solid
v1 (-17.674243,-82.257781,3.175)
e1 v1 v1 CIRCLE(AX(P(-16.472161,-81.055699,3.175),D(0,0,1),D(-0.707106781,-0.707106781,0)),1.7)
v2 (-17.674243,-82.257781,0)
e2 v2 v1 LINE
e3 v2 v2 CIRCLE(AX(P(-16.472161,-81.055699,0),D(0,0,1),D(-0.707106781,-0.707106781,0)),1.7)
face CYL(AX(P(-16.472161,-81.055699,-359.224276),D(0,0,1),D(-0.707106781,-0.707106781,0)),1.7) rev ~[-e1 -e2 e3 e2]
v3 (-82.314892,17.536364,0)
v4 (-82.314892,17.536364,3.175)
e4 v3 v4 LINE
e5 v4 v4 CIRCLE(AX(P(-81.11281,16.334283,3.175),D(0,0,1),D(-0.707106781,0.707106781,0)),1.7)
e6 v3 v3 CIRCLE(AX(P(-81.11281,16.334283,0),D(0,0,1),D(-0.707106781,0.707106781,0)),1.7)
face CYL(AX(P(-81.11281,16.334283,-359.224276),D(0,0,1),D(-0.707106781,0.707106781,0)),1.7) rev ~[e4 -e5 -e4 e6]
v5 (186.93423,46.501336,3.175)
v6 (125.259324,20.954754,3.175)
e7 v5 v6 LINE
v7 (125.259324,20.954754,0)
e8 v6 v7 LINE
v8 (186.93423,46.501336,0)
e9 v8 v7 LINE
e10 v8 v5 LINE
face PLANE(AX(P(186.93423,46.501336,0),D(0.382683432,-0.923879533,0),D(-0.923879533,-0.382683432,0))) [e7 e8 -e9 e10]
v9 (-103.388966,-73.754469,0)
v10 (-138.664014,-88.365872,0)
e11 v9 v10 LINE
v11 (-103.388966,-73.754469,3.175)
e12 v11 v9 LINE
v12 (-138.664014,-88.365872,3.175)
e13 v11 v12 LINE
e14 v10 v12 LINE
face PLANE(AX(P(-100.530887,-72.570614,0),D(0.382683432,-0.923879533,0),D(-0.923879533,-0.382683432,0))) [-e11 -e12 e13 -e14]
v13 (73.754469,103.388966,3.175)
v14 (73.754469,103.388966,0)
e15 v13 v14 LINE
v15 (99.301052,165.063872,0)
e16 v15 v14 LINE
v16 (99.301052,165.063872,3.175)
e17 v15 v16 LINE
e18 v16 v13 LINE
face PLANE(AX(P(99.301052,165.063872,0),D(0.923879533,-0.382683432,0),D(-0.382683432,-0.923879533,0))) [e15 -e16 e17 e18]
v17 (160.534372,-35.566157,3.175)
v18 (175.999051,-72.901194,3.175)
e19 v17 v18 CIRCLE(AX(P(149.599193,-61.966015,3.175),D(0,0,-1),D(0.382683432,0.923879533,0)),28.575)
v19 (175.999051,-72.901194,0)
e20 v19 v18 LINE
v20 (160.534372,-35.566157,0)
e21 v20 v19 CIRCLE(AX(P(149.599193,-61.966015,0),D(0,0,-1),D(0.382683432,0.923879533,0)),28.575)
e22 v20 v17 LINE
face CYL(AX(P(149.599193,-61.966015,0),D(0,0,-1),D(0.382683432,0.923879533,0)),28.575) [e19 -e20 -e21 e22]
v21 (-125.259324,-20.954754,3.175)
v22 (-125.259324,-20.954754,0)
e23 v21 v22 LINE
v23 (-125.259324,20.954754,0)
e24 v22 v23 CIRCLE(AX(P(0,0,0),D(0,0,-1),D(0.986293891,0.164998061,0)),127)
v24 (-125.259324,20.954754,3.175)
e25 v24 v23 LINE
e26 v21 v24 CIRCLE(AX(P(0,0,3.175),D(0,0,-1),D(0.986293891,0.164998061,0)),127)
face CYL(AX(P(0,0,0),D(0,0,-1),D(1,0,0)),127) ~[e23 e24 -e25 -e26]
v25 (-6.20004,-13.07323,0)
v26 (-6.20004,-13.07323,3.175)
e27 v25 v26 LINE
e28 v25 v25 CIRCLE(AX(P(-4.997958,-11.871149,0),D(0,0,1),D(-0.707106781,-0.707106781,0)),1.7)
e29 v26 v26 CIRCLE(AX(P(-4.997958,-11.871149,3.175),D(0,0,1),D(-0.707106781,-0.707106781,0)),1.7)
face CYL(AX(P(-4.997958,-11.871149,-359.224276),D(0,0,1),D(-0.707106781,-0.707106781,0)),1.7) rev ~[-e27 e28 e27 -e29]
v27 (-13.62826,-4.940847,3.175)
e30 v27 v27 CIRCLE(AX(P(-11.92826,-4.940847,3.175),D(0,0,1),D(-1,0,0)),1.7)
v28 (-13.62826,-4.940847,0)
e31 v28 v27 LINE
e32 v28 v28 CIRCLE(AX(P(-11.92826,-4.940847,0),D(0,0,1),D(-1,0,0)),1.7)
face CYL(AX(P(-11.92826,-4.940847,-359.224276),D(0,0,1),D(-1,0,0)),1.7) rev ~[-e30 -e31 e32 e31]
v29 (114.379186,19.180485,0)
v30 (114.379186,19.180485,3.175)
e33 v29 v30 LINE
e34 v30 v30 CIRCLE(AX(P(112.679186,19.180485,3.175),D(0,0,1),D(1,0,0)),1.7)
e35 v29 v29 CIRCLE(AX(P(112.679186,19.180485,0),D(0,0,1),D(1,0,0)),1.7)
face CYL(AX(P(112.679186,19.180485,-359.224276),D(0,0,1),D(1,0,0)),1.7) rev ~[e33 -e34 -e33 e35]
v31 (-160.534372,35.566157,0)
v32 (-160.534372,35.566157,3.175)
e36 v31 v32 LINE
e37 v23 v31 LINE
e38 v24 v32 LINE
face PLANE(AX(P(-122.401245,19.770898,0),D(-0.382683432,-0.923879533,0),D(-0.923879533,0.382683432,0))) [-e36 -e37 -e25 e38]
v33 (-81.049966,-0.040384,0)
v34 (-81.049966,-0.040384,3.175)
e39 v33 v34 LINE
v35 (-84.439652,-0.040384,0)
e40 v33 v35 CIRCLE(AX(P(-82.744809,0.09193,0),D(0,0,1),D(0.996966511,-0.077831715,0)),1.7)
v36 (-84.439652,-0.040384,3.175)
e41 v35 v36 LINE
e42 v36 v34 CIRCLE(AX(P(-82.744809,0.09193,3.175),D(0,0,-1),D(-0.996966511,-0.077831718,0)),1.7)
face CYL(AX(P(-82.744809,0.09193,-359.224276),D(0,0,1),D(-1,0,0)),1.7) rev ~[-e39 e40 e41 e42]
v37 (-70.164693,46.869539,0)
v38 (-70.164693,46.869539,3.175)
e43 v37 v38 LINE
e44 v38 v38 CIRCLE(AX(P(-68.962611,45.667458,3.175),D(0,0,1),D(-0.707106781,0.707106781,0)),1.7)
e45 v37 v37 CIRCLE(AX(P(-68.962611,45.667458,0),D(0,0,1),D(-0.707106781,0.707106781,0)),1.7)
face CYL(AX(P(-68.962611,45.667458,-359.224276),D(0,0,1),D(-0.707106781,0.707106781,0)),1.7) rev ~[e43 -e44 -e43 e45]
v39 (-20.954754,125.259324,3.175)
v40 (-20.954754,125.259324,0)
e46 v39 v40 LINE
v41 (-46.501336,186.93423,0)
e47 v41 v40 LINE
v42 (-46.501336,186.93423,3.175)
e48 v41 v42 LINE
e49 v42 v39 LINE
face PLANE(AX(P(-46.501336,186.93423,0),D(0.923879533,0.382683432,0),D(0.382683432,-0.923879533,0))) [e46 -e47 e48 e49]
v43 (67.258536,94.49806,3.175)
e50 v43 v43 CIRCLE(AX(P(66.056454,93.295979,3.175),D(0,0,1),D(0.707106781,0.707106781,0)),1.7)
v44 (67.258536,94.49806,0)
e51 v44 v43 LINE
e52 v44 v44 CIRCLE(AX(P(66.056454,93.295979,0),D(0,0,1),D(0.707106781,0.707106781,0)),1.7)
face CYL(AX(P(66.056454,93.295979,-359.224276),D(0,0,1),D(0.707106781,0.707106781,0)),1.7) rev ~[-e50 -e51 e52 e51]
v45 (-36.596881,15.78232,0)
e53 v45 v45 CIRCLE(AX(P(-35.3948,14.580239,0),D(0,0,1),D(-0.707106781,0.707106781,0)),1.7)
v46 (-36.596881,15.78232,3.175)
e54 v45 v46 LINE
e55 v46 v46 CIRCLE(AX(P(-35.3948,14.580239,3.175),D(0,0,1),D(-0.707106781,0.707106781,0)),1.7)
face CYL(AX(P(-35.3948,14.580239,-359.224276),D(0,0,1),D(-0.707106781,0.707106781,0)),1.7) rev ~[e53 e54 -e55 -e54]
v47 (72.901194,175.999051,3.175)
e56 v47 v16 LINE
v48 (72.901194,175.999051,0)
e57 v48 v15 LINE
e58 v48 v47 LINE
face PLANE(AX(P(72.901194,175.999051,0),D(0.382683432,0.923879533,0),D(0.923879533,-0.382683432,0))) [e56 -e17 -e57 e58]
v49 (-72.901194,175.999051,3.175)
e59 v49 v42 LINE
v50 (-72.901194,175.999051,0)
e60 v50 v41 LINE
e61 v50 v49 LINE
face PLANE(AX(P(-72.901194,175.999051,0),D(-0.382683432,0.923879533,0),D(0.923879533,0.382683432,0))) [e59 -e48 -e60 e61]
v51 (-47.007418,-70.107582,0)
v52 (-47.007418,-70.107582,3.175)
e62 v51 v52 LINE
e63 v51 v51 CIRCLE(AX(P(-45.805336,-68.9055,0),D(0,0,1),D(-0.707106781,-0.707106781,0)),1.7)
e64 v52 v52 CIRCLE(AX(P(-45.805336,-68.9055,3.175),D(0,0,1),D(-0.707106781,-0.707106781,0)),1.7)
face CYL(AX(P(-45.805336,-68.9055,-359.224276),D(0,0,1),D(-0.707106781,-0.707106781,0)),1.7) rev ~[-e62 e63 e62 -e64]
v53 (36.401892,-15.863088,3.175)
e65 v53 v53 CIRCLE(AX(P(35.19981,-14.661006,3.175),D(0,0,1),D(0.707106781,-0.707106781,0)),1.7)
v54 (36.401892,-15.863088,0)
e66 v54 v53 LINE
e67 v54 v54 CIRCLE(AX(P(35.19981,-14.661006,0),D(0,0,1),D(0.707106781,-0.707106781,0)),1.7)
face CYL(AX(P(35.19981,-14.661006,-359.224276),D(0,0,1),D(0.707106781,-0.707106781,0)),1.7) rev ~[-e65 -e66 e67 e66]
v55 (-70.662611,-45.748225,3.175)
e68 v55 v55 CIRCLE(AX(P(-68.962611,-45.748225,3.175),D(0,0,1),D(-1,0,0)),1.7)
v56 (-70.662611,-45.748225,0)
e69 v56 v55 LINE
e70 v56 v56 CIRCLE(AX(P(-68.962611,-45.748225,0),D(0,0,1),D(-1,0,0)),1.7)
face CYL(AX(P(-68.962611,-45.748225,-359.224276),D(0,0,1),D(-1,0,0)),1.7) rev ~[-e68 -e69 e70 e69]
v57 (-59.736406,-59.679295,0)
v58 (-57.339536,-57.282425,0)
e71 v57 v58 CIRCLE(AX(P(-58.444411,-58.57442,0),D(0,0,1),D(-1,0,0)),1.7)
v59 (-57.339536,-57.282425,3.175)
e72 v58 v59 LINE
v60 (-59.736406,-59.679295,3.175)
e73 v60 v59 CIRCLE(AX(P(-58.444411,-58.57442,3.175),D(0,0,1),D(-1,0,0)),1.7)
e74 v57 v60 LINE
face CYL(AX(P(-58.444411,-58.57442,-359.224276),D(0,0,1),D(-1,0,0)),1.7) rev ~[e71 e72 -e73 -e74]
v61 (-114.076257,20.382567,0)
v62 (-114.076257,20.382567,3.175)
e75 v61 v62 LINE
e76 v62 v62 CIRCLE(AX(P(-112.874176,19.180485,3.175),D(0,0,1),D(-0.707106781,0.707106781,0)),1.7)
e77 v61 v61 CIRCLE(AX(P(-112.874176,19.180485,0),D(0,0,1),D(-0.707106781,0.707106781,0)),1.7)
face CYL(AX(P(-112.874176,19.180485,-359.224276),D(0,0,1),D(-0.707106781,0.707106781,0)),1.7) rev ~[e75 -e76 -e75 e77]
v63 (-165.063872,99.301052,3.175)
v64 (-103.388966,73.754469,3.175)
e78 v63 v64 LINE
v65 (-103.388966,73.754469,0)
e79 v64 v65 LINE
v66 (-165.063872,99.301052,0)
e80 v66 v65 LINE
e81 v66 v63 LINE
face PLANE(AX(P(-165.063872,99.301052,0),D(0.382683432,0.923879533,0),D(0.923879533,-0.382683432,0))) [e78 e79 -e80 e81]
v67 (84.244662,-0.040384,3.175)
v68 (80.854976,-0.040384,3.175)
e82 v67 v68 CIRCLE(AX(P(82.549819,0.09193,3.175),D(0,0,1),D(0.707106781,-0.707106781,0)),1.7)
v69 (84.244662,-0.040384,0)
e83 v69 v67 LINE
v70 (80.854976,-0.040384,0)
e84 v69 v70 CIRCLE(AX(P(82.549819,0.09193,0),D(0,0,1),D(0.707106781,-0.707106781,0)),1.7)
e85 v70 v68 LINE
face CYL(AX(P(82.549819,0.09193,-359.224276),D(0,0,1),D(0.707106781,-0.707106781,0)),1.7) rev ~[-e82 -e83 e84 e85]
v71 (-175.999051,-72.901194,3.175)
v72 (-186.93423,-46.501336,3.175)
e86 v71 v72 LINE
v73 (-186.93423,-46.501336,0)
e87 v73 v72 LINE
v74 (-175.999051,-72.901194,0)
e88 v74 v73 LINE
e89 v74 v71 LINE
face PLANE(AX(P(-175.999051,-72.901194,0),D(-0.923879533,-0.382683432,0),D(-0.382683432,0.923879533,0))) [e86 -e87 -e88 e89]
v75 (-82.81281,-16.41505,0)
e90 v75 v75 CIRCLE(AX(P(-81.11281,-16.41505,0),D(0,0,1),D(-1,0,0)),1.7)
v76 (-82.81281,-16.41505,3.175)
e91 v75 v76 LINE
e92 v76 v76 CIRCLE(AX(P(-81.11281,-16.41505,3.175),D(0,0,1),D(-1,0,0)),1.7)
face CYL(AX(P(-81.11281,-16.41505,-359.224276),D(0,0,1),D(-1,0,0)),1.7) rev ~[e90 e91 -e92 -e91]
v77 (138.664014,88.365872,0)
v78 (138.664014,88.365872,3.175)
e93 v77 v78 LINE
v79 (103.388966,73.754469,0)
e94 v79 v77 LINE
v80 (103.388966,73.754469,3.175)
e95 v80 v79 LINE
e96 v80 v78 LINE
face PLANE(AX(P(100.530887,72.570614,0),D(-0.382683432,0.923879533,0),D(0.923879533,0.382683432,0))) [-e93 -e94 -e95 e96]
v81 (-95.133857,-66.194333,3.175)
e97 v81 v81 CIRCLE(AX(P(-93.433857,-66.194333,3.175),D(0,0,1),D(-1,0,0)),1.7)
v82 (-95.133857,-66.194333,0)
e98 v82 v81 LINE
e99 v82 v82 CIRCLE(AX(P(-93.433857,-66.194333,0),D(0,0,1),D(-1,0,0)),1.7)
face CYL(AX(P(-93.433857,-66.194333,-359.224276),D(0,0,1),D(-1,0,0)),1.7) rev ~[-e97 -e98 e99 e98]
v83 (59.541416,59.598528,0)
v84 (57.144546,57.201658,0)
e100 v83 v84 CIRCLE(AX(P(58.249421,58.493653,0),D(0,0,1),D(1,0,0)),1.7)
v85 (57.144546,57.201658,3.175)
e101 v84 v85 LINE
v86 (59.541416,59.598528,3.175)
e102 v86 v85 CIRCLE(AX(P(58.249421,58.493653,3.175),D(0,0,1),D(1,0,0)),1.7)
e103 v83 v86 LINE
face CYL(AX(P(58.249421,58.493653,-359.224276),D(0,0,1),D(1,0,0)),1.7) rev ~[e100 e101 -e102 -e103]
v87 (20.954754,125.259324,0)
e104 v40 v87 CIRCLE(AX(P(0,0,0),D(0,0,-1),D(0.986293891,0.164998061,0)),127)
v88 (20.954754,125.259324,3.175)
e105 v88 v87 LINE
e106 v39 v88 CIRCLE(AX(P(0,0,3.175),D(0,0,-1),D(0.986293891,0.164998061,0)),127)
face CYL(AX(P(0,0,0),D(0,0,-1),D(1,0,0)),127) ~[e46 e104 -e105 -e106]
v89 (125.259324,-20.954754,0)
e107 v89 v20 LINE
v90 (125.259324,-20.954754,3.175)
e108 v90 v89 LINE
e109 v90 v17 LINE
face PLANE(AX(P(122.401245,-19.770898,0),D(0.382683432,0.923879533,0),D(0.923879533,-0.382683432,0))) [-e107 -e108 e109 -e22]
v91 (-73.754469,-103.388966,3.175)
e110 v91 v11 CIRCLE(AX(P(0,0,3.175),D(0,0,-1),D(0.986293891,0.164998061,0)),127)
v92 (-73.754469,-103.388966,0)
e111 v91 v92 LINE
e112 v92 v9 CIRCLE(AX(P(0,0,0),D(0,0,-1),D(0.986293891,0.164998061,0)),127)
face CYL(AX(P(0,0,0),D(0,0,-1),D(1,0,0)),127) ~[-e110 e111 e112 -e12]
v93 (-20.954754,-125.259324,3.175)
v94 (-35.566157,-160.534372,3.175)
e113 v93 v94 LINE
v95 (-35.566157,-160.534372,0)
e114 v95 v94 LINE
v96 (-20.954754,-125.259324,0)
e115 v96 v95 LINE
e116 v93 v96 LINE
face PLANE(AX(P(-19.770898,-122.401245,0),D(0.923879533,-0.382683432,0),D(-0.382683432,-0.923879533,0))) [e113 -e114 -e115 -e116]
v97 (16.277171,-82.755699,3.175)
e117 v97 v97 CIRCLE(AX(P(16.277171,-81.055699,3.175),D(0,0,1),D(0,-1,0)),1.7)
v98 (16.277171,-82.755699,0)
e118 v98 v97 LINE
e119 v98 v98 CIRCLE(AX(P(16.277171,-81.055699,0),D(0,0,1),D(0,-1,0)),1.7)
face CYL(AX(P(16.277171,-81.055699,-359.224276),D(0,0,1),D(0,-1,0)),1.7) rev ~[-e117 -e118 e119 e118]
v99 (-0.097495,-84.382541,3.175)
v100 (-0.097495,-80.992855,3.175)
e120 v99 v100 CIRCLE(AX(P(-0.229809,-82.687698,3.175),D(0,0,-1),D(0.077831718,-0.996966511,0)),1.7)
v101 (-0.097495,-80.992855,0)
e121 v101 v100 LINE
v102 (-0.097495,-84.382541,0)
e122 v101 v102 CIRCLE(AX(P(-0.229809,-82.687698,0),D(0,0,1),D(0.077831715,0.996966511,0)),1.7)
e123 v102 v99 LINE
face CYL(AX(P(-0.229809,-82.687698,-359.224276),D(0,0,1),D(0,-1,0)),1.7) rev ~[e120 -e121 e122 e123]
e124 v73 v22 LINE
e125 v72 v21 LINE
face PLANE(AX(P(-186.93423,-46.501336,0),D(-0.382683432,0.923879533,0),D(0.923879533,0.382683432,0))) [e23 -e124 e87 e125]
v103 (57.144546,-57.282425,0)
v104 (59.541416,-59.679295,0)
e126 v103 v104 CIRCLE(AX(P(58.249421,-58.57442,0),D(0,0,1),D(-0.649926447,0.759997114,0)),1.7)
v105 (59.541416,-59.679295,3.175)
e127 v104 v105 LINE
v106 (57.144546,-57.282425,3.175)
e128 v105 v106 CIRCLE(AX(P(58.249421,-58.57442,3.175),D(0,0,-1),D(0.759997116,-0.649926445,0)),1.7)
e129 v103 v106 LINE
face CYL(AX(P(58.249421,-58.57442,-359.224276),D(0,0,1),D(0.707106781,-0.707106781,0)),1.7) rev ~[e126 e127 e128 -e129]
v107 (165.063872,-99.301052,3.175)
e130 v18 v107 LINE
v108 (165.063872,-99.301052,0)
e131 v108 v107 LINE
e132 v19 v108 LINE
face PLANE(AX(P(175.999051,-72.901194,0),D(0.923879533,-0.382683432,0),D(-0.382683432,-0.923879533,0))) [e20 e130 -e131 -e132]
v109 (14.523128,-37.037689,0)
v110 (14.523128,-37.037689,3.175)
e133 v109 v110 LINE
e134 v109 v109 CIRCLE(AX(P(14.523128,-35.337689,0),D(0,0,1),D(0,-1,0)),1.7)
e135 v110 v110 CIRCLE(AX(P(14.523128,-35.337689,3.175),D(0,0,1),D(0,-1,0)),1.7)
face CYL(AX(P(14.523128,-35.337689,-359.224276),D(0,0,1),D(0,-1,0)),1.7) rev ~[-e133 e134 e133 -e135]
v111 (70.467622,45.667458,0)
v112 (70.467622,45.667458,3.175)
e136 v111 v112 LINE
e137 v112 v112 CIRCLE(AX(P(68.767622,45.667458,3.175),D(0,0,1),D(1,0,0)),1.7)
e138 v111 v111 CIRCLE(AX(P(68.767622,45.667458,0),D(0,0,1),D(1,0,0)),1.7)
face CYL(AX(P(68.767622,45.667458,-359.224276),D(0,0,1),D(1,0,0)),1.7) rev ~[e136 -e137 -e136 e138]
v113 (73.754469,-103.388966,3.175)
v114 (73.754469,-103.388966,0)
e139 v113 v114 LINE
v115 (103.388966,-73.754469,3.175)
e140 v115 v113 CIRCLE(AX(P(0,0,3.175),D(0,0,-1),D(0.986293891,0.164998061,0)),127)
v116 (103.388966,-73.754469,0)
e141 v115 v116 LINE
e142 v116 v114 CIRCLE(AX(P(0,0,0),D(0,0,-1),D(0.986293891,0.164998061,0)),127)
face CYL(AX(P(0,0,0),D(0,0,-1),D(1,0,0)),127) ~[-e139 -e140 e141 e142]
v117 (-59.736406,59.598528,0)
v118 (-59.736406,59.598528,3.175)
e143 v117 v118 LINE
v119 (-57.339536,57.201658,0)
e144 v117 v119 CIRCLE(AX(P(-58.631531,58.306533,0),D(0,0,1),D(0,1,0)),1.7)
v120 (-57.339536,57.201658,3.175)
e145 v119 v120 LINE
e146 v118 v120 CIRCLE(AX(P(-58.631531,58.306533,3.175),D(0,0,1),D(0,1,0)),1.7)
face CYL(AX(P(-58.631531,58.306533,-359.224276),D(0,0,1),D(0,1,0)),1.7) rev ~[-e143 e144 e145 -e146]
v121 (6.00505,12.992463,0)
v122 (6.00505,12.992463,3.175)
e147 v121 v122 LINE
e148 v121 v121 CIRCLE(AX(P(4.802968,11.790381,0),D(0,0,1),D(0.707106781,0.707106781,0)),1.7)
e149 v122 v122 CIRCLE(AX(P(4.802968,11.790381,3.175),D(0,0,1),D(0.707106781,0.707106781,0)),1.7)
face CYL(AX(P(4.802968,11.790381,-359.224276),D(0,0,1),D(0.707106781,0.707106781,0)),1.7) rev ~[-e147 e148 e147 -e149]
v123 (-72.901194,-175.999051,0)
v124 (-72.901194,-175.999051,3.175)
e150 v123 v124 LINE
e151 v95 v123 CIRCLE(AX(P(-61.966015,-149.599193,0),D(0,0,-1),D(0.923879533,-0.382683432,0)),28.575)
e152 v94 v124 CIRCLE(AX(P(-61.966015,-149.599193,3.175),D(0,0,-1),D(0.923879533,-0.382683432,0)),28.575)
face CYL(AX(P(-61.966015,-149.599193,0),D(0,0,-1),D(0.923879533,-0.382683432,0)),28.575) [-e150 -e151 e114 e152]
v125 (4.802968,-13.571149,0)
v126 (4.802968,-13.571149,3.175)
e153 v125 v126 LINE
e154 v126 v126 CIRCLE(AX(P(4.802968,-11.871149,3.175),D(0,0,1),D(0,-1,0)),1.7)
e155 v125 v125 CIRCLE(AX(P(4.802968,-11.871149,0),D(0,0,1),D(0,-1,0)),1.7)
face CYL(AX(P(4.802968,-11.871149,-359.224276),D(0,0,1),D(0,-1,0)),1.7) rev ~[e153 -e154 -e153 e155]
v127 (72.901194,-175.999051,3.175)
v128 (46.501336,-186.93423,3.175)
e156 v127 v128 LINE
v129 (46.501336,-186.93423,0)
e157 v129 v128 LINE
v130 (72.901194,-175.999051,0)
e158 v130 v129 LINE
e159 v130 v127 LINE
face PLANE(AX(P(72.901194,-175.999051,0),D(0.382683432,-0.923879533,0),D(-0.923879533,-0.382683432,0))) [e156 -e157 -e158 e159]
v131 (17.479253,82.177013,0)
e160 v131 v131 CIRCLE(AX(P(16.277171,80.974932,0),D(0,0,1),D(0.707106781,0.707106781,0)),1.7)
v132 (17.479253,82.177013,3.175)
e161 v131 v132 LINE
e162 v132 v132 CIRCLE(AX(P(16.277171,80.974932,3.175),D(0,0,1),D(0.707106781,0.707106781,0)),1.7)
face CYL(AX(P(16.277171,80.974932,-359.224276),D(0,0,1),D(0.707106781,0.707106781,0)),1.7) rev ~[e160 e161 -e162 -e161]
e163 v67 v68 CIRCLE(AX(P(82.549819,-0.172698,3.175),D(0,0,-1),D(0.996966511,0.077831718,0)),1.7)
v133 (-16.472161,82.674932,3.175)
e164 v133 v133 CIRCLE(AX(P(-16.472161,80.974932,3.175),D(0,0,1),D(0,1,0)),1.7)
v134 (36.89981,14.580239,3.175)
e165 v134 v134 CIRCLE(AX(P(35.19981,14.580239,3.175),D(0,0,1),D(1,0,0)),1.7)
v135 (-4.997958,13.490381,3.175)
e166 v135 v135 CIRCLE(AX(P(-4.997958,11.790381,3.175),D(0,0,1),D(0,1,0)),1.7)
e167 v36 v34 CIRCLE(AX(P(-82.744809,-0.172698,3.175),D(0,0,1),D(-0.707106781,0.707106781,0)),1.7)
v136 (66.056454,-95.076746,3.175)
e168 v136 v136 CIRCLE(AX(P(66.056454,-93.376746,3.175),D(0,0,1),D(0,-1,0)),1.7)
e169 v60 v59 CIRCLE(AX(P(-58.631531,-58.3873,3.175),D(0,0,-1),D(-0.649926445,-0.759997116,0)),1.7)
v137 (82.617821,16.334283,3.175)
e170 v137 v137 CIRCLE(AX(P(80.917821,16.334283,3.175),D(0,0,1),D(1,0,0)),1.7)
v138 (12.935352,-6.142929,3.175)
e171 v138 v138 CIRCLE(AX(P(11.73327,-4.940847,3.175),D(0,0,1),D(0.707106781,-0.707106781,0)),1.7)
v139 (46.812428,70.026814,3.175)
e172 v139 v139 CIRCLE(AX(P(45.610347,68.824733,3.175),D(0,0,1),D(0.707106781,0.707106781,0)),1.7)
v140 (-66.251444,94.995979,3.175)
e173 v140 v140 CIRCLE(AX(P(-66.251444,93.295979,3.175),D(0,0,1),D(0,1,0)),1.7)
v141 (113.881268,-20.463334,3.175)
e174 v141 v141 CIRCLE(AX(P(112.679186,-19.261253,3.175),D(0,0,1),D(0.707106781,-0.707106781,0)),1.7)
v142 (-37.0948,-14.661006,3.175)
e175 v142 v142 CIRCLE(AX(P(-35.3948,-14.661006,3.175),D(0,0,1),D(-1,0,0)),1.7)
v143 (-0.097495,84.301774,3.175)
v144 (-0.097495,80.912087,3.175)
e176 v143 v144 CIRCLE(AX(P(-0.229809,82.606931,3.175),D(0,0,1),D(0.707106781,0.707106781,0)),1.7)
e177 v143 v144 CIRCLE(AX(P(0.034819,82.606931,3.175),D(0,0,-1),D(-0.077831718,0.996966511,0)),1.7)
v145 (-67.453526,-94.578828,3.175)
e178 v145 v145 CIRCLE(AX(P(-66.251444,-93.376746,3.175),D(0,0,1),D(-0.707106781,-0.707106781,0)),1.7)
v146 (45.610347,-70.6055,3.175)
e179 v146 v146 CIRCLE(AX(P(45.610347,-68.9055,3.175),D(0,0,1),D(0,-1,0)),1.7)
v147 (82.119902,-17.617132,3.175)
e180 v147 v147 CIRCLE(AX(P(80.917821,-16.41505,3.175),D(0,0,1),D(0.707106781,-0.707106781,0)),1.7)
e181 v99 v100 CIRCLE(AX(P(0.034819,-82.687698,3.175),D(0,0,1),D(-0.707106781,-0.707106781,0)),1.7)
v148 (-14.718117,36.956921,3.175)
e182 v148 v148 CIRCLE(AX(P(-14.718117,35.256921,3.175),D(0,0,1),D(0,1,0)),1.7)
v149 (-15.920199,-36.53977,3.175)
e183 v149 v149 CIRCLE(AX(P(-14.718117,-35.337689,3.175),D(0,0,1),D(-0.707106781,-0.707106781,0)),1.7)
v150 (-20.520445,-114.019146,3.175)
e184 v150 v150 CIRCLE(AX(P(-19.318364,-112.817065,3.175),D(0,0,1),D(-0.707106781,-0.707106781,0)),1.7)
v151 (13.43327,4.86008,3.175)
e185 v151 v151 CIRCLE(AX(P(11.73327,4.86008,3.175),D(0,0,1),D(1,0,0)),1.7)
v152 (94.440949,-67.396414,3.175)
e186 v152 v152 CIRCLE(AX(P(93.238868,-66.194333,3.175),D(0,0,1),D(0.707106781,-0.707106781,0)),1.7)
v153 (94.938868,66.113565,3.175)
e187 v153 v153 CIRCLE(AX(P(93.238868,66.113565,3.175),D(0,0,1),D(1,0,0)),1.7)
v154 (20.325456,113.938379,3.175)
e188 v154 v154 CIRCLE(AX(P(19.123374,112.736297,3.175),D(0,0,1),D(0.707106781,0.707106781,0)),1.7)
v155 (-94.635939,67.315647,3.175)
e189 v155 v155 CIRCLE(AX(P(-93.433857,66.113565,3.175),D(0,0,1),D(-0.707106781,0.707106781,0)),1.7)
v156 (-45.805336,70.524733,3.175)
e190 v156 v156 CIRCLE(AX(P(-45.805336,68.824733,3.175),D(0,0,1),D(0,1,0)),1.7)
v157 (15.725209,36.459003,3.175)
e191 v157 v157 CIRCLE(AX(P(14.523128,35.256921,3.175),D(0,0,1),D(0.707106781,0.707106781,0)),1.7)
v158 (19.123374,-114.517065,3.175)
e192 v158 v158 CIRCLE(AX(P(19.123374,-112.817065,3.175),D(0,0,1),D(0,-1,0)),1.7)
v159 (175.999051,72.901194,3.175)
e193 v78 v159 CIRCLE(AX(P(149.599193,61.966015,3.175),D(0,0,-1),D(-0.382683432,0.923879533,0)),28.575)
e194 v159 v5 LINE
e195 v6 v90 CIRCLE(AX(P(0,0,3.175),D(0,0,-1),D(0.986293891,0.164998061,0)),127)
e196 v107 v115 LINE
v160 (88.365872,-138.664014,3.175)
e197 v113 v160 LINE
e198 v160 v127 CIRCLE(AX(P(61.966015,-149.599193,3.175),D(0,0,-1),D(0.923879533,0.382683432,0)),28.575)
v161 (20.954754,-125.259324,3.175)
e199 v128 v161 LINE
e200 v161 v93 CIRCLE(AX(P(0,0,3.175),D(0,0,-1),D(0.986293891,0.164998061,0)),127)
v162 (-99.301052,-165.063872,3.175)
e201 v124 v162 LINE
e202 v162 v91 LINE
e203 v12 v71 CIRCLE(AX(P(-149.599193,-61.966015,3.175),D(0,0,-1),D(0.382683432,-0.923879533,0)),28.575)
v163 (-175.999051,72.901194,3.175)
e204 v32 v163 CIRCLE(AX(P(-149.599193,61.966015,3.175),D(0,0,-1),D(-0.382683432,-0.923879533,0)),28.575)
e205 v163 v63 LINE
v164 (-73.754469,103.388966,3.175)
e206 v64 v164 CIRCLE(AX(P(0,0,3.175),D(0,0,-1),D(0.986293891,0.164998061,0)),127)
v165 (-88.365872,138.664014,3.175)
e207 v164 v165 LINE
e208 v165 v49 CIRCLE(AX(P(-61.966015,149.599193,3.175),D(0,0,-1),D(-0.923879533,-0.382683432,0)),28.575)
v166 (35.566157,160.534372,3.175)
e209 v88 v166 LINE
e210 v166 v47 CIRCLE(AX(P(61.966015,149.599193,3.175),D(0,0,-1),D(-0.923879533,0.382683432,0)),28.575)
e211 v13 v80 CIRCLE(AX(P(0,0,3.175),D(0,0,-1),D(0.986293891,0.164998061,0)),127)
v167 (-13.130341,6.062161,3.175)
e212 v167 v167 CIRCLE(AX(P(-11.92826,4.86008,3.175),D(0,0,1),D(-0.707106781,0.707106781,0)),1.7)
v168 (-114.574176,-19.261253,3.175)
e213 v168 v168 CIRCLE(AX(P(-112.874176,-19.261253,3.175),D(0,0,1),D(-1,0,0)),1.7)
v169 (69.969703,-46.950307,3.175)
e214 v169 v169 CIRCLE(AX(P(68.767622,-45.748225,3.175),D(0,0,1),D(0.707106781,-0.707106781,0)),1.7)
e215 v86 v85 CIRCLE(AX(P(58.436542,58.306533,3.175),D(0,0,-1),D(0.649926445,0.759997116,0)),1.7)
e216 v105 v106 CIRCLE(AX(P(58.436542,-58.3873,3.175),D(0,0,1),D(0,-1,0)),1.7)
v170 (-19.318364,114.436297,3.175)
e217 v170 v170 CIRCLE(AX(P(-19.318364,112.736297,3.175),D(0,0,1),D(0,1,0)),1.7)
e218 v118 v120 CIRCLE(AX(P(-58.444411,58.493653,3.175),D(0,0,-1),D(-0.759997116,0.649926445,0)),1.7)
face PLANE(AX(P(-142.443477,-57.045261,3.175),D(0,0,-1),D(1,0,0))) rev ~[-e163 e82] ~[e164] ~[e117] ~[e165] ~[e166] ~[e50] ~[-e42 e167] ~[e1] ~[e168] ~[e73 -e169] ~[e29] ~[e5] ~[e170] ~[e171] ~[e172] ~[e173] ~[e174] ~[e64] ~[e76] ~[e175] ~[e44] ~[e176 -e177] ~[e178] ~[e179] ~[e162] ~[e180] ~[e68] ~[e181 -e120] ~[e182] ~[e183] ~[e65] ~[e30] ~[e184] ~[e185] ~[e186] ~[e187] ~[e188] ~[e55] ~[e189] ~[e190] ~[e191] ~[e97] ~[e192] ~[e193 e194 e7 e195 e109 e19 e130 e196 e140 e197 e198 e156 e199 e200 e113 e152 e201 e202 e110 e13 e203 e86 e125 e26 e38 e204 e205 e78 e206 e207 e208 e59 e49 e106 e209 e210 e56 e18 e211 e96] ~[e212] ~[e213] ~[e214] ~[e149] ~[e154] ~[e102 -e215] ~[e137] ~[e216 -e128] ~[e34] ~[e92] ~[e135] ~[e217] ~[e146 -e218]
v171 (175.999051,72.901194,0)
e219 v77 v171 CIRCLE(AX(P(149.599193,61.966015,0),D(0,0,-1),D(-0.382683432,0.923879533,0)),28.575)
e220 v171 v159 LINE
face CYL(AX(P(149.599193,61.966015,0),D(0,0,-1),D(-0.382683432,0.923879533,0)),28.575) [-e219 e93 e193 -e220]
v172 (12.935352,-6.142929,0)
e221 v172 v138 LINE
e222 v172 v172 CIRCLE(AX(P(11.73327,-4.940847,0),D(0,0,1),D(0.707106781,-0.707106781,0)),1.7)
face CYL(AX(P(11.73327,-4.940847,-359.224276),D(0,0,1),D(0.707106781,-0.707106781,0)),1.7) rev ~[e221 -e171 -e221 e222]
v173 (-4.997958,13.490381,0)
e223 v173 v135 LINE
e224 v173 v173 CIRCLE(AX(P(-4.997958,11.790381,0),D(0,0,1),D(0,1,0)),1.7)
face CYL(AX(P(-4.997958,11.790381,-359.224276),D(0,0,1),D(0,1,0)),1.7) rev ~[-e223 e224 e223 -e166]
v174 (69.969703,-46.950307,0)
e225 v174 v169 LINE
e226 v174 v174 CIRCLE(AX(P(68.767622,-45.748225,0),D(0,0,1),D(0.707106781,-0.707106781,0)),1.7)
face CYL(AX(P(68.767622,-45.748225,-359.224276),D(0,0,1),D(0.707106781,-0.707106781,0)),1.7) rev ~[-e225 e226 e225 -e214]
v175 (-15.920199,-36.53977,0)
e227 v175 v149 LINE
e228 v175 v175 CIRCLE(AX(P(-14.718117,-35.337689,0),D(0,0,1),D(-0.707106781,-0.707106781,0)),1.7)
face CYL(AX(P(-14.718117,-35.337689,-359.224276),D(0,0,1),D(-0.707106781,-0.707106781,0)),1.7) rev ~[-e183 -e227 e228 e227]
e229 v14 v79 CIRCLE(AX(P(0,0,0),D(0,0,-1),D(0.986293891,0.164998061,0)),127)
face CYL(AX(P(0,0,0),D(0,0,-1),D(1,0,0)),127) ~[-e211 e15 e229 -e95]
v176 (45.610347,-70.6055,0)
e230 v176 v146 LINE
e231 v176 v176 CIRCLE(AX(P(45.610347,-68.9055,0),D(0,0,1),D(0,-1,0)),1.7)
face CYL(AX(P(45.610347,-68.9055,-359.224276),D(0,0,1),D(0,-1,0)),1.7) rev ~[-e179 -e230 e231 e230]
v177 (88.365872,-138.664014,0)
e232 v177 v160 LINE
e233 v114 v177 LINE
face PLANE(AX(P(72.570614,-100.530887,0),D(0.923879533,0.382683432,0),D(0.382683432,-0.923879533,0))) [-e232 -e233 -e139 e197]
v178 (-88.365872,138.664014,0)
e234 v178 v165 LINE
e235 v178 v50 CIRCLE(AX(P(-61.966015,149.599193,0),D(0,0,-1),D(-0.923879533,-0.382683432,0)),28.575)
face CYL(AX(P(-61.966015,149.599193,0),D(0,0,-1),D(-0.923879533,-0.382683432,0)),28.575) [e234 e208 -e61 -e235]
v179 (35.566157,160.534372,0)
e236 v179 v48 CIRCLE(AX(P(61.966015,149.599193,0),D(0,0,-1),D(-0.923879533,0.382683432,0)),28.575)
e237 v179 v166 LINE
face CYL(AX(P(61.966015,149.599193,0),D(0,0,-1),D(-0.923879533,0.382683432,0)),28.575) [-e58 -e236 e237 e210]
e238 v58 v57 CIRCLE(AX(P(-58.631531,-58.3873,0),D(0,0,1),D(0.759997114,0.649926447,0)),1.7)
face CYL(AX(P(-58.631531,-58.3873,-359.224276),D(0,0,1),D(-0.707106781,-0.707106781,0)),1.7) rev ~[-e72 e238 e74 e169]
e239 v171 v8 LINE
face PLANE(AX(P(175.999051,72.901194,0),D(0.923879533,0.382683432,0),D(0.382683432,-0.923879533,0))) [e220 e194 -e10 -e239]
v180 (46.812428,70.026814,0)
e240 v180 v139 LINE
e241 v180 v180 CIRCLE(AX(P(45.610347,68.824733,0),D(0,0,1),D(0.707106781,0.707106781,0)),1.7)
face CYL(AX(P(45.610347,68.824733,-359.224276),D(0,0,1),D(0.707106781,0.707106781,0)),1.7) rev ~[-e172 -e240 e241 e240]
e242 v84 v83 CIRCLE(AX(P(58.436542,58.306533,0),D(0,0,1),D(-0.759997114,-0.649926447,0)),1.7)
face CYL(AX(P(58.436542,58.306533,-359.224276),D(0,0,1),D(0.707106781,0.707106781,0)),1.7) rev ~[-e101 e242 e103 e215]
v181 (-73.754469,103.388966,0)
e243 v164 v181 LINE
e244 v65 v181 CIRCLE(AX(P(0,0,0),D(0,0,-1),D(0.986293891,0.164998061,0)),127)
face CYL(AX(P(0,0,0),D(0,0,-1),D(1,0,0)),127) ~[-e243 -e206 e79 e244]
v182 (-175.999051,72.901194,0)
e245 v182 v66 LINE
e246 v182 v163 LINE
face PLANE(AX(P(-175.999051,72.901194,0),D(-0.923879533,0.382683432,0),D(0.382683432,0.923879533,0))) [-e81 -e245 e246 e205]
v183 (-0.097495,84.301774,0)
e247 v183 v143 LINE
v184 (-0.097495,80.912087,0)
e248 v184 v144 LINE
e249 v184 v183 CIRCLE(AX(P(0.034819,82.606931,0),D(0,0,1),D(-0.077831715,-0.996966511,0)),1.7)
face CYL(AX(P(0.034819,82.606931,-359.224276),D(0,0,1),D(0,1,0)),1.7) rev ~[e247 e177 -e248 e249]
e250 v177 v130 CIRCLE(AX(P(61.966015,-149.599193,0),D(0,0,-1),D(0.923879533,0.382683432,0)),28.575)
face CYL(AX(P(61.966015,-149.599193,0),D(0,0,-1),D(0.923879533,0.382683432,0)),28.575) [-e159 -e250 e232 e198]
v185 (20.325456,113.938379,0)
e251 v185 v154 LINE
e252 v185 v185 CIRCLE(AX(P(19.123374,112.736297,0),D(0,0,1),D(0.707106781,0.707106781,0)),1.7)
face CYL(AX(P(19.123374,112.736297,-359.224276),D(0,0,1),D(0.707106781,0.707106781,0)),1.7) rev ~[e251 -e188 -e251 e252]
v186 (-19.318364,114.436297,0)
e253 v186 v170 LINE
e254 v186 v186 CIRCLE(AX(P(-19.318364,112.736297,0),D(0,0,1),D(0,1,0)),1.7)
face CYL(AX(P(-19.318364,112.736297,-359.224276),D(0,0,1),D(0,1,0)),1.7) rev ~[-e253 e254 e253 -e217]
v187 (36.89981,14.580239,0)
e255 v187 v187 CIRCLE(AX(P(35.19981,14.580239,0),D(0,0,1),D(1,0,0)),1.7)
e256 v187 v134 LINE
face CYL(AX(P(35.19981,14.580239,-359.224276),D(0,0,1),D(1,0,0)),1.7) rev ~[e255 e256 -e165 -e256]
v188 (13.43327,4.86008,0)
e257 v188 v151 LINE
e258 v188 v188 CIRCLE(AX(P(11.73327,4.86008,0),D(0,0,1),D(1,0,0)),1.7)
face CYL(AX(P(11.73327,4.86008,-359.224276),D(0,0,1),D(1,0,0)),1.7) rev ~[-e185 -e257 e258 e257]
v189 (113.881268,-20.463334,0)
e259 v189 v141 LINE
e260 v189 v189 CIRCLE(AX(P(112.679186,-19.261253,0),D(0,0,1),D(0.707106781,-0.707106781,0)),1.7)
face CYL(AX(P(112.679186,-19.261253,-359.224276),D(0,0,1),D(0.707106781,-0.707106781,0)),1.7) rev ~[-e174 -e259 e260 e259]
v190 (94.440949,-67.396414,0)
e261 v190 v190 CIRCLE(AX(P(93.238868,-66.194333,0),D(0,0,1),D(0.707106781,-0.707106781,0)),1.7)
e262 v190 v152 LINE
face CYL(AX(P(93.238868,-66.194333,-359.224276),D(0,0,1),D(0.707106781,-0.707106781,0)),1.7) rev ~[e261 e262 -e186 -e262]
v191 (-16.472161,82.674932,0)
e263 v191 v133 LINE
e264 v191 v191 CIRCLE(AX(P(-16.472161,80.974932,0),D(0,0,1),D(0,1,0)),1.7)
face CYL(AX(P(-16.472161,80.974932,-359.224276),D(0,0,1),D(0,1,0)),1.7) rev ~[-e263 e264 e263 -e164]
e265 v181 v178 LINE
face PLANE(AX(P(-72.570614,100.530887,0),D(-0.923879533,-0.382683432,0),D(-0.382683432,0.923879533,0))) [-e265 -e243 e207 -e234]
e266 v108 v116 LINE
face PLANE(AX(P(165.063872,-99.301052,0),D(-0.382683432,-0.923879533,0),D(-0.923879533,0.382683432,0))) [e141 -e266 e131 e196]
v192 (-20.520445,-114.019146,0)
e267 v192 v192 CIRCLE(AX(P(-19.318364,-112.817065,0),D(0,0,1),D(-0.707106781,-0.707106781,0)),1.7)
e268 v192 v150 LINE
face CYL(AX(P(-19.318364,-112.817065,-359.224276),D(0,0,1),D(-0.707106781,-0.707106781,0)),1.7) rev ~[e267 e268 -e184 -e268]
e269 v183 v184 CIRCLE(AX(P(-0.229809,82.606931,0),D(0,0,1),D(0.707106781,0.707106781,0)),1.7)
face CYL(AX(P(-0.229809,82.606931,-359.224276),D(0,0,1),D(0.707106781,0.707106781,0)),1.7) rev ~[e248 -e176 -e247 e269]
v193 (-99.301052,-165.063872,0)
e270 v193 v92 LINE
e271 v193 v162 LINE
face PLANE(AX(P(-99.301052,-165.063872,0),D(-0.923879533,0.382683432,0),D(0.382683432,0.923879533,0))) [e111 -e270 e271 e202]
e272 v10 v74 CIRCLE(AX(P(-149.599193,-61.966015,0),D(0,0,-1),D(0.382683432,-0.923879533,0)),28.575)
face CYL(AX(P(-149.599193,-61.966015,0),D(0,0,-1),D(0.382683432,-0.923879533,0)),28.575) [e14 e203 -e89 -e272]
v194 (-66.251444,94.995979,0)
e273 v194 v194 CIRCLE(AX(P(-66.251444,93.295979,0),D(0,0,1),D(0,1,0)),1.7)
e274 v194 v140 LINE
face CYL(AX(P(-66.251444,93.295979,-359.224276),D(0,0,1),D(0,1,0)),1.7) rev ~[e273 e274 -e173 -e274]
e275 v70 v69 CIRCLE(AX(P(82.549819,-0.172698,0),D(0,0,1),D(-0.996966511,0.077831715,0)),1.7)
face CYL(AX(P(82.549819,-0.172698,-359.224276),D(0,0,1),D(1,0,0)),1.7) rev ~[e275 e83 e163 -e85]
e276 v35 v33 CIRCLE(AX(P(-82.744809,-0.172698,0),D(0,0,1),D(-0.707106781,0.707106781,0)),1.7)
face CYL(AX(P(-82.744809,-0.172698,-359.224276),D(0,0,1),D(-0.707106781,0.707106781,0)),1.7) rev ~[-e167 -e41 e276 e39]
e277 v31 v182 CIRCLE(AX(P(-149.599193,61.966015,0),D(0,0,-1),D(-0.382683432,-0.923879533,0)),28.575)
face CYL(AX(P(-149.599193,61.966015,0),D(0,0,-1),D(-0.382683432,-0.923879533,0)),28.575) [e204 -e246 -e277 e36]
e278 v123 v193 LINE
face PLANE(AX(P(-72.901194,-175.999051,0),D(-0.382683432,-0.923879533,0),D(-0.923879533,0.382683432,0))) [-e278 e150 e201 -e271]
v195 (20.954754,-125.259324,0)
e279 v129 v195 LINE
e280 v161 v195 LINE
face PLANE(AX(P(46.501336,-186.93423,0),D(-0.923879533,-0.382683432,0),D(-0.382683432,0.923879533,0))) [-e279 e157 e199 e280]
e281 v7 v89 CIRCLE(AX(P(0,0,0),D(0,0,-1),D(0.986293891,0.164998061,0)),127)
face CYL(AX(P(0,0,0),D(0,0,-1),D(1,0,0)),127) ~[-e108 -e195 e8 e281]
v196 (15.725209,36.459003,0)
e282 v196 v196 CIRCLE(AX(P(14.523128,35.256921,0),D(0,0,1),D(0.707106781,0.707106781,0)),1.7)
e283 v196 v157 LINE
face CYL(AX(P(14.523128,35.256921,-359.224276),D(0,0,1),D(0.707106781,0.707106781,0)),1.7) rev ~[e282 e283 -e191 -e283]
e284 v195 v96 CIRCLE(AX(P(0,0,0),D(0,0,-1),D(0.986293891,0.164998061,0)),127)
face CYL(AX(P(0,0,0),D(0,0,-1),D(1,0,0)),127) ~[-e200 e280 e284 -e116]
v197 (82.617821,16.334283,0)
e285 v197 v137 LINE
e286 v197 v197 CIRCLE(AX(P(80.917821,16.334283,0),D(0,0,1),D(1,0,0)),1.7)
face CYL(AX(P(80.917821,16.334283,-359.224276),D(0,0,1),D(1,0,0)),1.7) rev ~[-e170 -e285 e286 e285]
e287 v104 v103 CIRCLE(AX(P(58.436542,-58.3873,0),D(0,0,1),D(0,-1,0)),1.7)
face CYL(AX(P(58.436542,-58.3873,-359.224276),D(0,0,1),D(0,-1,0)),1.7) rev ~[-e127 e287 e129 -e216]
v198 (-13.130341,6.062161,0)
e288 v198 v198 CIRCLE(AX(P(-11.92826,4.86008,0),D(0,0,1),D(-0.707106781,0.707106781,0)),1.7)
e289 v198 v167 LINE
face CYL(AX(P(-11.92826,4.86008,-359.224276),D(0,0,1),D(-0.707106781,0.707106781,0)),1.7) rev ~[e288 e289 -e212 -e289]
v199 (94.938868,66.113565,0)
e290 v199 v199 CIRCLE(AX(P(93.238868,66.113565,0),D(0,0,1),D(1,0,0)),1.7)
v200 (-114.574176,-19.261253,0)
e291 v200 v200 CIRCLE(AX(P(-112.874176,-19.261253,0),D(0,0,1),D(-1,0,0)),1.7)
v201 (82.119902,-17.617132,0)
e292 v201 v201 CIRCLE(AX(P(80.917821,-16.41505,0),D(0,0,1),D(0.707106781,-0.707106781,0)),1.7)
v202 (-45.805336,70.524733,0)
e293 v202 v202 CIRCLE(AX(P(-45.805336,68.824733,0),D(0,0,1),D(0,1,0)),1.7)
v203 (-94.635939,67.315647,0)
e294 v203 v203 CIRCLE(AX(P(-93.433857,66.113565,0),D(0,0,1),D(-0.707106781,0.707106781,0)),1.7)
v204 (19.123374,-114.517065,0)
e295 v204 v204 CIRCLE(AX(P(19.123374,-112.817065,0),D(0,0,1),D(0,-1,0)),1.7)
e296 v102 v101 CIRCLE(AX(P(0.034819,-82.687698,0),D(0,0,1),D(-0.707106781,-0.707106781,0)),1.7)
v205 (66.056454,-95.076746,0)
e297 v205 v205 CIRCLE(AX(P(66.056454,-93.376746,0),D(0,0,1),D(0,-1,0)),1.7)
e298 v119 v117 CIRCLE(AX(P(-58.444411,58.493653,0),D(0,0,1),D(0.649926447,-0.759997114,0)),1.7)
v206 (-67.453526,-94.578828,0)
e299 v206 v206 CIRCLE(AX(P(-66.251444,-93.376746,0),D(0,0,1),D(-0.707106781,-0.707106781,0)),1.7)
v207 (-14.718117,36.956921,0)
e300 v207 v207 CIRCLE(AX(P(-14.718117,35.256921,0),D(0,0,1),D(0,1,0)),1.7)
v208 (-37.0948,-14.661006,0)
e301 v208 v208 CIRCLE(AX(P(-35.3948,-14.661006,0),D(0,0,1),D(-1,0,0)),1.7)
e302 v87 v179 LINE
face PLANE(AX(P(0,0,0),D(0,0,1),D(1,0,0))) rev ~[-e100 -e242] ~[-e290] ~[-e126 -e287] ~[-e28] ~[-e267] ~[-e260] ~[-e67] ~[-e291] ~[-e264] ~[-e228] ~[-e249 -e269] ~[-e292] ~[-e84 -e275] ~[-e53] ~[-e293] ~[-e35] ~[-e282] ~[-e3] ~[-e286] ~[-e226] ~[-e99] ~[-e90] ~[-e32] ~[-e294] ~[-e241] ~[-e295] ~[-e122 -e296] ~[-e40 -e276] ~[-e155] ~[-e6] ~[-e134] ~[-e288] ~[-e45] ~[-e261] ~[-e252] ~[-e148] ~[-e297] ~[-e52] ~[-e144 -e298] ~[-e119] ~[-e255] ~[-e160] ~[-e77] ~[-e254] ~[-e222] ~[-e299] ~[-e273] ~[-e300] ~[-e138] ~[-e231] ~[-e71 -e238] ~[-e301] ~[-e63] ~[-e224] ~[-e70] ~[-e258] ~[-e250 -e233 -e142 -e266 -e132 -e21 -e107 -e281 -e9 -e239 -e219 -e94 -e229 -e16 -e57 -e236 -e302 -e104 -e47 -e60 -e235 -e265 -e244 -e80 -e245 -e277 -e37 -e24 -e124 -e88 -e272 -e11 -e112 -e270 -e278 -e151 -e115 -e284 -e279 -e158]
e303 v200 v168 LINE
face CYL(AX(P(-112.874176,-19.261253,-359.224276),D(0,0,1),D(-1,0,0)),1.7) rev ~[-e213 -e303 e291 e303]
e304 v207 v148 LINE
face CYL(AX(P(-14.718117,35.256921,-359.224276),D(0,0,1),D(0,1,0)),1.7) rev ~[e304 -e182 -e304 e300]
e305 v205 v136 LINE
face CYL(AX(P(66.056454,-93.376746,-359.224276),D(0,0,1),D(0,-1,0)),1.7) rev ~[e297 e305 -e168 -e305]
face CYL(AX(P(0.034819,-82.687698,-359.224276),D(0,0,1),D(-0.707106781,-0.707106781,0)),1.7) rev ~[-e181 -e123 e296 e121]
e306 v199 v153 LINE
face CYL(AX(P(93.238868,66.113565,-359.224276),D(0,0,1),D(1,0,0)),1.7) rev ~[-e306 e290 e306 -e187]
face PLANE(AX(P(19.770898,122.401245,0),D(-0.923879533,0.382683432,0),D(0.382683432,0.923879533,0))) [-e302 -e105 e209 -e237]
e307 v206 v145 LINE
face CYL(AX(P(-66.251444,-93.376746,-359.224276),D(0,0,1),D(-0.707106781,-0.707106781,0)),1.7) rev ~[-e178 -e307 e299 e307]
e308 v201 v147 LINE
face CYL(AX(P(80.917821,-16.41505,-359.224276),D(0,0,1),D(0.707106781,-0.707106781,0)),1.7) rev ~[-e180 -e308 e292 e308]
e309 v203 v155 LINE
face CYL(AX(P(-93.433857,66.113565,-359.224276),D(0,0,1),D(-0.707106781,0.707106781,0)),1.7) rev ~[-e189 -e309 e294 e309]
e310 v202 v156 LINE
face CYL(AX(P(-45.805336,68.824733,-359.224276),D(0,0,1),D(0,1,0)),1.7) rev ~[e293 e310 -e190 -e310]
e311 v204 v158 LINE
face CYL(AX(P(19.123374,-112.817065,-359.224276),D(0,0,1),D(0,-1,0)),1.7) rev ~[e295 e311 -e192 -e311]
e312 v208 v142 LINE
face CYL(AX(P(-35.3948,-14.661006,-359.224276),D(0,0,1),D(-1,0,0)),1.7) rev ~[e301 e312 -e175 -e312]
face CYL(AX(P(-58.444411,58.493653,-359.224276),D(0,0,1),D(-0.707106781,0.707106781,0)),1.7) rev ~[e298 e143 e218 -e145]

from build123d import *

# Parameters (mm, degrees)
SKETCH1_R            = 127
BOSS_EXTRUDE1_DEPTH  = 3.175
M3_CLEARANCE_HOLE1_D = 3.4
CIRPATTERN1_COUNT    = 8
BOSS_EXTRUDE2_DEPTH  = 3.175
CIRPATTERN2_COUNT    = 8


with BuildPart() as part:
    # Sketch1 → Boss-Extrude1 (new body)
    with BuildSketch(Plane.XY):
        Circle(SKETCH1_R)
    extrude(amount=BOSS_EXTRUDE1_DEPTH)

    # M3 Clearance Hole1 (through all)
    with Locations(Plane(origin=(0, 0, 0), x_dir=(-1, 0, 0), z_dir=(0, 0, -1))):
        with Locations((-58.2494214, 58.493652703), (-82.549819355, -0.172697611), (-93.238867767, 66.113565457), (-112.679186132, 19.180485205), (-11.733270063, 4.860079591), (-68.767621753, 45.667457762), (-80.917820731, 16.334282605), (-35.199810189, 14.580238773)):
            m3_clearance_hole1 = Hole(M3_CLEARANCE_HOLE1_D / 2)

    # CirPattern1: M3 Clearance Hole1 ×8 about axis
    cirpattern1_axis = Axis((-0.09749486, -0.040383693, 0), (0, 0, 1))
    for i in range(1, CIRPATTERN1_COUNT):
        add(m3_clearance_hole1.rotate(cirpattern1_axis, i * 360 / CIRPATTERN1_COUNT), mode=Mode.SUBTRACT)

    # Sketch6 → Boss-Extrude2 (add)
    with BuildSketch(Plane(origin=(0, 0, 0), x_dir=(-1, 0, 0), z_dir=(0, 0, -1))):
        with BuildLine():
            Line((-100.530886518, 72.570613756), (-138.664014222, 88.365872427))
            ThreePointArc((-138.664014222, 88.365872427), (-160.534372382, 88.365872427), (-175.999050943, 72.901193866))
            Line((-175.999050943, 72.901193866), (-186.934230023, 46.501336224))
            Line((-186.934230023, 46.501336224), (-122.401244677, 19.770898473))
            Line((-122.401244677, 19.770898473), (-100.530886518, 72.570613756))
        make_face()
    boss_extrude2 = extrude(amount=-BOSS_EXTRUDE2_DEPTH)

    # CirPattern2: Boss-Extrude2 ×8 about axis
    cirpattern2_axis = Axis((0, 0, 0), (0, 0, 1))
    for i in range(1, CIRPATTERN2_COUNT):
        add(boss_extrude2.rotate(cirpattern2_axis, i * 360 / CIRPATTERN2_COUNT))


solid = part.part
